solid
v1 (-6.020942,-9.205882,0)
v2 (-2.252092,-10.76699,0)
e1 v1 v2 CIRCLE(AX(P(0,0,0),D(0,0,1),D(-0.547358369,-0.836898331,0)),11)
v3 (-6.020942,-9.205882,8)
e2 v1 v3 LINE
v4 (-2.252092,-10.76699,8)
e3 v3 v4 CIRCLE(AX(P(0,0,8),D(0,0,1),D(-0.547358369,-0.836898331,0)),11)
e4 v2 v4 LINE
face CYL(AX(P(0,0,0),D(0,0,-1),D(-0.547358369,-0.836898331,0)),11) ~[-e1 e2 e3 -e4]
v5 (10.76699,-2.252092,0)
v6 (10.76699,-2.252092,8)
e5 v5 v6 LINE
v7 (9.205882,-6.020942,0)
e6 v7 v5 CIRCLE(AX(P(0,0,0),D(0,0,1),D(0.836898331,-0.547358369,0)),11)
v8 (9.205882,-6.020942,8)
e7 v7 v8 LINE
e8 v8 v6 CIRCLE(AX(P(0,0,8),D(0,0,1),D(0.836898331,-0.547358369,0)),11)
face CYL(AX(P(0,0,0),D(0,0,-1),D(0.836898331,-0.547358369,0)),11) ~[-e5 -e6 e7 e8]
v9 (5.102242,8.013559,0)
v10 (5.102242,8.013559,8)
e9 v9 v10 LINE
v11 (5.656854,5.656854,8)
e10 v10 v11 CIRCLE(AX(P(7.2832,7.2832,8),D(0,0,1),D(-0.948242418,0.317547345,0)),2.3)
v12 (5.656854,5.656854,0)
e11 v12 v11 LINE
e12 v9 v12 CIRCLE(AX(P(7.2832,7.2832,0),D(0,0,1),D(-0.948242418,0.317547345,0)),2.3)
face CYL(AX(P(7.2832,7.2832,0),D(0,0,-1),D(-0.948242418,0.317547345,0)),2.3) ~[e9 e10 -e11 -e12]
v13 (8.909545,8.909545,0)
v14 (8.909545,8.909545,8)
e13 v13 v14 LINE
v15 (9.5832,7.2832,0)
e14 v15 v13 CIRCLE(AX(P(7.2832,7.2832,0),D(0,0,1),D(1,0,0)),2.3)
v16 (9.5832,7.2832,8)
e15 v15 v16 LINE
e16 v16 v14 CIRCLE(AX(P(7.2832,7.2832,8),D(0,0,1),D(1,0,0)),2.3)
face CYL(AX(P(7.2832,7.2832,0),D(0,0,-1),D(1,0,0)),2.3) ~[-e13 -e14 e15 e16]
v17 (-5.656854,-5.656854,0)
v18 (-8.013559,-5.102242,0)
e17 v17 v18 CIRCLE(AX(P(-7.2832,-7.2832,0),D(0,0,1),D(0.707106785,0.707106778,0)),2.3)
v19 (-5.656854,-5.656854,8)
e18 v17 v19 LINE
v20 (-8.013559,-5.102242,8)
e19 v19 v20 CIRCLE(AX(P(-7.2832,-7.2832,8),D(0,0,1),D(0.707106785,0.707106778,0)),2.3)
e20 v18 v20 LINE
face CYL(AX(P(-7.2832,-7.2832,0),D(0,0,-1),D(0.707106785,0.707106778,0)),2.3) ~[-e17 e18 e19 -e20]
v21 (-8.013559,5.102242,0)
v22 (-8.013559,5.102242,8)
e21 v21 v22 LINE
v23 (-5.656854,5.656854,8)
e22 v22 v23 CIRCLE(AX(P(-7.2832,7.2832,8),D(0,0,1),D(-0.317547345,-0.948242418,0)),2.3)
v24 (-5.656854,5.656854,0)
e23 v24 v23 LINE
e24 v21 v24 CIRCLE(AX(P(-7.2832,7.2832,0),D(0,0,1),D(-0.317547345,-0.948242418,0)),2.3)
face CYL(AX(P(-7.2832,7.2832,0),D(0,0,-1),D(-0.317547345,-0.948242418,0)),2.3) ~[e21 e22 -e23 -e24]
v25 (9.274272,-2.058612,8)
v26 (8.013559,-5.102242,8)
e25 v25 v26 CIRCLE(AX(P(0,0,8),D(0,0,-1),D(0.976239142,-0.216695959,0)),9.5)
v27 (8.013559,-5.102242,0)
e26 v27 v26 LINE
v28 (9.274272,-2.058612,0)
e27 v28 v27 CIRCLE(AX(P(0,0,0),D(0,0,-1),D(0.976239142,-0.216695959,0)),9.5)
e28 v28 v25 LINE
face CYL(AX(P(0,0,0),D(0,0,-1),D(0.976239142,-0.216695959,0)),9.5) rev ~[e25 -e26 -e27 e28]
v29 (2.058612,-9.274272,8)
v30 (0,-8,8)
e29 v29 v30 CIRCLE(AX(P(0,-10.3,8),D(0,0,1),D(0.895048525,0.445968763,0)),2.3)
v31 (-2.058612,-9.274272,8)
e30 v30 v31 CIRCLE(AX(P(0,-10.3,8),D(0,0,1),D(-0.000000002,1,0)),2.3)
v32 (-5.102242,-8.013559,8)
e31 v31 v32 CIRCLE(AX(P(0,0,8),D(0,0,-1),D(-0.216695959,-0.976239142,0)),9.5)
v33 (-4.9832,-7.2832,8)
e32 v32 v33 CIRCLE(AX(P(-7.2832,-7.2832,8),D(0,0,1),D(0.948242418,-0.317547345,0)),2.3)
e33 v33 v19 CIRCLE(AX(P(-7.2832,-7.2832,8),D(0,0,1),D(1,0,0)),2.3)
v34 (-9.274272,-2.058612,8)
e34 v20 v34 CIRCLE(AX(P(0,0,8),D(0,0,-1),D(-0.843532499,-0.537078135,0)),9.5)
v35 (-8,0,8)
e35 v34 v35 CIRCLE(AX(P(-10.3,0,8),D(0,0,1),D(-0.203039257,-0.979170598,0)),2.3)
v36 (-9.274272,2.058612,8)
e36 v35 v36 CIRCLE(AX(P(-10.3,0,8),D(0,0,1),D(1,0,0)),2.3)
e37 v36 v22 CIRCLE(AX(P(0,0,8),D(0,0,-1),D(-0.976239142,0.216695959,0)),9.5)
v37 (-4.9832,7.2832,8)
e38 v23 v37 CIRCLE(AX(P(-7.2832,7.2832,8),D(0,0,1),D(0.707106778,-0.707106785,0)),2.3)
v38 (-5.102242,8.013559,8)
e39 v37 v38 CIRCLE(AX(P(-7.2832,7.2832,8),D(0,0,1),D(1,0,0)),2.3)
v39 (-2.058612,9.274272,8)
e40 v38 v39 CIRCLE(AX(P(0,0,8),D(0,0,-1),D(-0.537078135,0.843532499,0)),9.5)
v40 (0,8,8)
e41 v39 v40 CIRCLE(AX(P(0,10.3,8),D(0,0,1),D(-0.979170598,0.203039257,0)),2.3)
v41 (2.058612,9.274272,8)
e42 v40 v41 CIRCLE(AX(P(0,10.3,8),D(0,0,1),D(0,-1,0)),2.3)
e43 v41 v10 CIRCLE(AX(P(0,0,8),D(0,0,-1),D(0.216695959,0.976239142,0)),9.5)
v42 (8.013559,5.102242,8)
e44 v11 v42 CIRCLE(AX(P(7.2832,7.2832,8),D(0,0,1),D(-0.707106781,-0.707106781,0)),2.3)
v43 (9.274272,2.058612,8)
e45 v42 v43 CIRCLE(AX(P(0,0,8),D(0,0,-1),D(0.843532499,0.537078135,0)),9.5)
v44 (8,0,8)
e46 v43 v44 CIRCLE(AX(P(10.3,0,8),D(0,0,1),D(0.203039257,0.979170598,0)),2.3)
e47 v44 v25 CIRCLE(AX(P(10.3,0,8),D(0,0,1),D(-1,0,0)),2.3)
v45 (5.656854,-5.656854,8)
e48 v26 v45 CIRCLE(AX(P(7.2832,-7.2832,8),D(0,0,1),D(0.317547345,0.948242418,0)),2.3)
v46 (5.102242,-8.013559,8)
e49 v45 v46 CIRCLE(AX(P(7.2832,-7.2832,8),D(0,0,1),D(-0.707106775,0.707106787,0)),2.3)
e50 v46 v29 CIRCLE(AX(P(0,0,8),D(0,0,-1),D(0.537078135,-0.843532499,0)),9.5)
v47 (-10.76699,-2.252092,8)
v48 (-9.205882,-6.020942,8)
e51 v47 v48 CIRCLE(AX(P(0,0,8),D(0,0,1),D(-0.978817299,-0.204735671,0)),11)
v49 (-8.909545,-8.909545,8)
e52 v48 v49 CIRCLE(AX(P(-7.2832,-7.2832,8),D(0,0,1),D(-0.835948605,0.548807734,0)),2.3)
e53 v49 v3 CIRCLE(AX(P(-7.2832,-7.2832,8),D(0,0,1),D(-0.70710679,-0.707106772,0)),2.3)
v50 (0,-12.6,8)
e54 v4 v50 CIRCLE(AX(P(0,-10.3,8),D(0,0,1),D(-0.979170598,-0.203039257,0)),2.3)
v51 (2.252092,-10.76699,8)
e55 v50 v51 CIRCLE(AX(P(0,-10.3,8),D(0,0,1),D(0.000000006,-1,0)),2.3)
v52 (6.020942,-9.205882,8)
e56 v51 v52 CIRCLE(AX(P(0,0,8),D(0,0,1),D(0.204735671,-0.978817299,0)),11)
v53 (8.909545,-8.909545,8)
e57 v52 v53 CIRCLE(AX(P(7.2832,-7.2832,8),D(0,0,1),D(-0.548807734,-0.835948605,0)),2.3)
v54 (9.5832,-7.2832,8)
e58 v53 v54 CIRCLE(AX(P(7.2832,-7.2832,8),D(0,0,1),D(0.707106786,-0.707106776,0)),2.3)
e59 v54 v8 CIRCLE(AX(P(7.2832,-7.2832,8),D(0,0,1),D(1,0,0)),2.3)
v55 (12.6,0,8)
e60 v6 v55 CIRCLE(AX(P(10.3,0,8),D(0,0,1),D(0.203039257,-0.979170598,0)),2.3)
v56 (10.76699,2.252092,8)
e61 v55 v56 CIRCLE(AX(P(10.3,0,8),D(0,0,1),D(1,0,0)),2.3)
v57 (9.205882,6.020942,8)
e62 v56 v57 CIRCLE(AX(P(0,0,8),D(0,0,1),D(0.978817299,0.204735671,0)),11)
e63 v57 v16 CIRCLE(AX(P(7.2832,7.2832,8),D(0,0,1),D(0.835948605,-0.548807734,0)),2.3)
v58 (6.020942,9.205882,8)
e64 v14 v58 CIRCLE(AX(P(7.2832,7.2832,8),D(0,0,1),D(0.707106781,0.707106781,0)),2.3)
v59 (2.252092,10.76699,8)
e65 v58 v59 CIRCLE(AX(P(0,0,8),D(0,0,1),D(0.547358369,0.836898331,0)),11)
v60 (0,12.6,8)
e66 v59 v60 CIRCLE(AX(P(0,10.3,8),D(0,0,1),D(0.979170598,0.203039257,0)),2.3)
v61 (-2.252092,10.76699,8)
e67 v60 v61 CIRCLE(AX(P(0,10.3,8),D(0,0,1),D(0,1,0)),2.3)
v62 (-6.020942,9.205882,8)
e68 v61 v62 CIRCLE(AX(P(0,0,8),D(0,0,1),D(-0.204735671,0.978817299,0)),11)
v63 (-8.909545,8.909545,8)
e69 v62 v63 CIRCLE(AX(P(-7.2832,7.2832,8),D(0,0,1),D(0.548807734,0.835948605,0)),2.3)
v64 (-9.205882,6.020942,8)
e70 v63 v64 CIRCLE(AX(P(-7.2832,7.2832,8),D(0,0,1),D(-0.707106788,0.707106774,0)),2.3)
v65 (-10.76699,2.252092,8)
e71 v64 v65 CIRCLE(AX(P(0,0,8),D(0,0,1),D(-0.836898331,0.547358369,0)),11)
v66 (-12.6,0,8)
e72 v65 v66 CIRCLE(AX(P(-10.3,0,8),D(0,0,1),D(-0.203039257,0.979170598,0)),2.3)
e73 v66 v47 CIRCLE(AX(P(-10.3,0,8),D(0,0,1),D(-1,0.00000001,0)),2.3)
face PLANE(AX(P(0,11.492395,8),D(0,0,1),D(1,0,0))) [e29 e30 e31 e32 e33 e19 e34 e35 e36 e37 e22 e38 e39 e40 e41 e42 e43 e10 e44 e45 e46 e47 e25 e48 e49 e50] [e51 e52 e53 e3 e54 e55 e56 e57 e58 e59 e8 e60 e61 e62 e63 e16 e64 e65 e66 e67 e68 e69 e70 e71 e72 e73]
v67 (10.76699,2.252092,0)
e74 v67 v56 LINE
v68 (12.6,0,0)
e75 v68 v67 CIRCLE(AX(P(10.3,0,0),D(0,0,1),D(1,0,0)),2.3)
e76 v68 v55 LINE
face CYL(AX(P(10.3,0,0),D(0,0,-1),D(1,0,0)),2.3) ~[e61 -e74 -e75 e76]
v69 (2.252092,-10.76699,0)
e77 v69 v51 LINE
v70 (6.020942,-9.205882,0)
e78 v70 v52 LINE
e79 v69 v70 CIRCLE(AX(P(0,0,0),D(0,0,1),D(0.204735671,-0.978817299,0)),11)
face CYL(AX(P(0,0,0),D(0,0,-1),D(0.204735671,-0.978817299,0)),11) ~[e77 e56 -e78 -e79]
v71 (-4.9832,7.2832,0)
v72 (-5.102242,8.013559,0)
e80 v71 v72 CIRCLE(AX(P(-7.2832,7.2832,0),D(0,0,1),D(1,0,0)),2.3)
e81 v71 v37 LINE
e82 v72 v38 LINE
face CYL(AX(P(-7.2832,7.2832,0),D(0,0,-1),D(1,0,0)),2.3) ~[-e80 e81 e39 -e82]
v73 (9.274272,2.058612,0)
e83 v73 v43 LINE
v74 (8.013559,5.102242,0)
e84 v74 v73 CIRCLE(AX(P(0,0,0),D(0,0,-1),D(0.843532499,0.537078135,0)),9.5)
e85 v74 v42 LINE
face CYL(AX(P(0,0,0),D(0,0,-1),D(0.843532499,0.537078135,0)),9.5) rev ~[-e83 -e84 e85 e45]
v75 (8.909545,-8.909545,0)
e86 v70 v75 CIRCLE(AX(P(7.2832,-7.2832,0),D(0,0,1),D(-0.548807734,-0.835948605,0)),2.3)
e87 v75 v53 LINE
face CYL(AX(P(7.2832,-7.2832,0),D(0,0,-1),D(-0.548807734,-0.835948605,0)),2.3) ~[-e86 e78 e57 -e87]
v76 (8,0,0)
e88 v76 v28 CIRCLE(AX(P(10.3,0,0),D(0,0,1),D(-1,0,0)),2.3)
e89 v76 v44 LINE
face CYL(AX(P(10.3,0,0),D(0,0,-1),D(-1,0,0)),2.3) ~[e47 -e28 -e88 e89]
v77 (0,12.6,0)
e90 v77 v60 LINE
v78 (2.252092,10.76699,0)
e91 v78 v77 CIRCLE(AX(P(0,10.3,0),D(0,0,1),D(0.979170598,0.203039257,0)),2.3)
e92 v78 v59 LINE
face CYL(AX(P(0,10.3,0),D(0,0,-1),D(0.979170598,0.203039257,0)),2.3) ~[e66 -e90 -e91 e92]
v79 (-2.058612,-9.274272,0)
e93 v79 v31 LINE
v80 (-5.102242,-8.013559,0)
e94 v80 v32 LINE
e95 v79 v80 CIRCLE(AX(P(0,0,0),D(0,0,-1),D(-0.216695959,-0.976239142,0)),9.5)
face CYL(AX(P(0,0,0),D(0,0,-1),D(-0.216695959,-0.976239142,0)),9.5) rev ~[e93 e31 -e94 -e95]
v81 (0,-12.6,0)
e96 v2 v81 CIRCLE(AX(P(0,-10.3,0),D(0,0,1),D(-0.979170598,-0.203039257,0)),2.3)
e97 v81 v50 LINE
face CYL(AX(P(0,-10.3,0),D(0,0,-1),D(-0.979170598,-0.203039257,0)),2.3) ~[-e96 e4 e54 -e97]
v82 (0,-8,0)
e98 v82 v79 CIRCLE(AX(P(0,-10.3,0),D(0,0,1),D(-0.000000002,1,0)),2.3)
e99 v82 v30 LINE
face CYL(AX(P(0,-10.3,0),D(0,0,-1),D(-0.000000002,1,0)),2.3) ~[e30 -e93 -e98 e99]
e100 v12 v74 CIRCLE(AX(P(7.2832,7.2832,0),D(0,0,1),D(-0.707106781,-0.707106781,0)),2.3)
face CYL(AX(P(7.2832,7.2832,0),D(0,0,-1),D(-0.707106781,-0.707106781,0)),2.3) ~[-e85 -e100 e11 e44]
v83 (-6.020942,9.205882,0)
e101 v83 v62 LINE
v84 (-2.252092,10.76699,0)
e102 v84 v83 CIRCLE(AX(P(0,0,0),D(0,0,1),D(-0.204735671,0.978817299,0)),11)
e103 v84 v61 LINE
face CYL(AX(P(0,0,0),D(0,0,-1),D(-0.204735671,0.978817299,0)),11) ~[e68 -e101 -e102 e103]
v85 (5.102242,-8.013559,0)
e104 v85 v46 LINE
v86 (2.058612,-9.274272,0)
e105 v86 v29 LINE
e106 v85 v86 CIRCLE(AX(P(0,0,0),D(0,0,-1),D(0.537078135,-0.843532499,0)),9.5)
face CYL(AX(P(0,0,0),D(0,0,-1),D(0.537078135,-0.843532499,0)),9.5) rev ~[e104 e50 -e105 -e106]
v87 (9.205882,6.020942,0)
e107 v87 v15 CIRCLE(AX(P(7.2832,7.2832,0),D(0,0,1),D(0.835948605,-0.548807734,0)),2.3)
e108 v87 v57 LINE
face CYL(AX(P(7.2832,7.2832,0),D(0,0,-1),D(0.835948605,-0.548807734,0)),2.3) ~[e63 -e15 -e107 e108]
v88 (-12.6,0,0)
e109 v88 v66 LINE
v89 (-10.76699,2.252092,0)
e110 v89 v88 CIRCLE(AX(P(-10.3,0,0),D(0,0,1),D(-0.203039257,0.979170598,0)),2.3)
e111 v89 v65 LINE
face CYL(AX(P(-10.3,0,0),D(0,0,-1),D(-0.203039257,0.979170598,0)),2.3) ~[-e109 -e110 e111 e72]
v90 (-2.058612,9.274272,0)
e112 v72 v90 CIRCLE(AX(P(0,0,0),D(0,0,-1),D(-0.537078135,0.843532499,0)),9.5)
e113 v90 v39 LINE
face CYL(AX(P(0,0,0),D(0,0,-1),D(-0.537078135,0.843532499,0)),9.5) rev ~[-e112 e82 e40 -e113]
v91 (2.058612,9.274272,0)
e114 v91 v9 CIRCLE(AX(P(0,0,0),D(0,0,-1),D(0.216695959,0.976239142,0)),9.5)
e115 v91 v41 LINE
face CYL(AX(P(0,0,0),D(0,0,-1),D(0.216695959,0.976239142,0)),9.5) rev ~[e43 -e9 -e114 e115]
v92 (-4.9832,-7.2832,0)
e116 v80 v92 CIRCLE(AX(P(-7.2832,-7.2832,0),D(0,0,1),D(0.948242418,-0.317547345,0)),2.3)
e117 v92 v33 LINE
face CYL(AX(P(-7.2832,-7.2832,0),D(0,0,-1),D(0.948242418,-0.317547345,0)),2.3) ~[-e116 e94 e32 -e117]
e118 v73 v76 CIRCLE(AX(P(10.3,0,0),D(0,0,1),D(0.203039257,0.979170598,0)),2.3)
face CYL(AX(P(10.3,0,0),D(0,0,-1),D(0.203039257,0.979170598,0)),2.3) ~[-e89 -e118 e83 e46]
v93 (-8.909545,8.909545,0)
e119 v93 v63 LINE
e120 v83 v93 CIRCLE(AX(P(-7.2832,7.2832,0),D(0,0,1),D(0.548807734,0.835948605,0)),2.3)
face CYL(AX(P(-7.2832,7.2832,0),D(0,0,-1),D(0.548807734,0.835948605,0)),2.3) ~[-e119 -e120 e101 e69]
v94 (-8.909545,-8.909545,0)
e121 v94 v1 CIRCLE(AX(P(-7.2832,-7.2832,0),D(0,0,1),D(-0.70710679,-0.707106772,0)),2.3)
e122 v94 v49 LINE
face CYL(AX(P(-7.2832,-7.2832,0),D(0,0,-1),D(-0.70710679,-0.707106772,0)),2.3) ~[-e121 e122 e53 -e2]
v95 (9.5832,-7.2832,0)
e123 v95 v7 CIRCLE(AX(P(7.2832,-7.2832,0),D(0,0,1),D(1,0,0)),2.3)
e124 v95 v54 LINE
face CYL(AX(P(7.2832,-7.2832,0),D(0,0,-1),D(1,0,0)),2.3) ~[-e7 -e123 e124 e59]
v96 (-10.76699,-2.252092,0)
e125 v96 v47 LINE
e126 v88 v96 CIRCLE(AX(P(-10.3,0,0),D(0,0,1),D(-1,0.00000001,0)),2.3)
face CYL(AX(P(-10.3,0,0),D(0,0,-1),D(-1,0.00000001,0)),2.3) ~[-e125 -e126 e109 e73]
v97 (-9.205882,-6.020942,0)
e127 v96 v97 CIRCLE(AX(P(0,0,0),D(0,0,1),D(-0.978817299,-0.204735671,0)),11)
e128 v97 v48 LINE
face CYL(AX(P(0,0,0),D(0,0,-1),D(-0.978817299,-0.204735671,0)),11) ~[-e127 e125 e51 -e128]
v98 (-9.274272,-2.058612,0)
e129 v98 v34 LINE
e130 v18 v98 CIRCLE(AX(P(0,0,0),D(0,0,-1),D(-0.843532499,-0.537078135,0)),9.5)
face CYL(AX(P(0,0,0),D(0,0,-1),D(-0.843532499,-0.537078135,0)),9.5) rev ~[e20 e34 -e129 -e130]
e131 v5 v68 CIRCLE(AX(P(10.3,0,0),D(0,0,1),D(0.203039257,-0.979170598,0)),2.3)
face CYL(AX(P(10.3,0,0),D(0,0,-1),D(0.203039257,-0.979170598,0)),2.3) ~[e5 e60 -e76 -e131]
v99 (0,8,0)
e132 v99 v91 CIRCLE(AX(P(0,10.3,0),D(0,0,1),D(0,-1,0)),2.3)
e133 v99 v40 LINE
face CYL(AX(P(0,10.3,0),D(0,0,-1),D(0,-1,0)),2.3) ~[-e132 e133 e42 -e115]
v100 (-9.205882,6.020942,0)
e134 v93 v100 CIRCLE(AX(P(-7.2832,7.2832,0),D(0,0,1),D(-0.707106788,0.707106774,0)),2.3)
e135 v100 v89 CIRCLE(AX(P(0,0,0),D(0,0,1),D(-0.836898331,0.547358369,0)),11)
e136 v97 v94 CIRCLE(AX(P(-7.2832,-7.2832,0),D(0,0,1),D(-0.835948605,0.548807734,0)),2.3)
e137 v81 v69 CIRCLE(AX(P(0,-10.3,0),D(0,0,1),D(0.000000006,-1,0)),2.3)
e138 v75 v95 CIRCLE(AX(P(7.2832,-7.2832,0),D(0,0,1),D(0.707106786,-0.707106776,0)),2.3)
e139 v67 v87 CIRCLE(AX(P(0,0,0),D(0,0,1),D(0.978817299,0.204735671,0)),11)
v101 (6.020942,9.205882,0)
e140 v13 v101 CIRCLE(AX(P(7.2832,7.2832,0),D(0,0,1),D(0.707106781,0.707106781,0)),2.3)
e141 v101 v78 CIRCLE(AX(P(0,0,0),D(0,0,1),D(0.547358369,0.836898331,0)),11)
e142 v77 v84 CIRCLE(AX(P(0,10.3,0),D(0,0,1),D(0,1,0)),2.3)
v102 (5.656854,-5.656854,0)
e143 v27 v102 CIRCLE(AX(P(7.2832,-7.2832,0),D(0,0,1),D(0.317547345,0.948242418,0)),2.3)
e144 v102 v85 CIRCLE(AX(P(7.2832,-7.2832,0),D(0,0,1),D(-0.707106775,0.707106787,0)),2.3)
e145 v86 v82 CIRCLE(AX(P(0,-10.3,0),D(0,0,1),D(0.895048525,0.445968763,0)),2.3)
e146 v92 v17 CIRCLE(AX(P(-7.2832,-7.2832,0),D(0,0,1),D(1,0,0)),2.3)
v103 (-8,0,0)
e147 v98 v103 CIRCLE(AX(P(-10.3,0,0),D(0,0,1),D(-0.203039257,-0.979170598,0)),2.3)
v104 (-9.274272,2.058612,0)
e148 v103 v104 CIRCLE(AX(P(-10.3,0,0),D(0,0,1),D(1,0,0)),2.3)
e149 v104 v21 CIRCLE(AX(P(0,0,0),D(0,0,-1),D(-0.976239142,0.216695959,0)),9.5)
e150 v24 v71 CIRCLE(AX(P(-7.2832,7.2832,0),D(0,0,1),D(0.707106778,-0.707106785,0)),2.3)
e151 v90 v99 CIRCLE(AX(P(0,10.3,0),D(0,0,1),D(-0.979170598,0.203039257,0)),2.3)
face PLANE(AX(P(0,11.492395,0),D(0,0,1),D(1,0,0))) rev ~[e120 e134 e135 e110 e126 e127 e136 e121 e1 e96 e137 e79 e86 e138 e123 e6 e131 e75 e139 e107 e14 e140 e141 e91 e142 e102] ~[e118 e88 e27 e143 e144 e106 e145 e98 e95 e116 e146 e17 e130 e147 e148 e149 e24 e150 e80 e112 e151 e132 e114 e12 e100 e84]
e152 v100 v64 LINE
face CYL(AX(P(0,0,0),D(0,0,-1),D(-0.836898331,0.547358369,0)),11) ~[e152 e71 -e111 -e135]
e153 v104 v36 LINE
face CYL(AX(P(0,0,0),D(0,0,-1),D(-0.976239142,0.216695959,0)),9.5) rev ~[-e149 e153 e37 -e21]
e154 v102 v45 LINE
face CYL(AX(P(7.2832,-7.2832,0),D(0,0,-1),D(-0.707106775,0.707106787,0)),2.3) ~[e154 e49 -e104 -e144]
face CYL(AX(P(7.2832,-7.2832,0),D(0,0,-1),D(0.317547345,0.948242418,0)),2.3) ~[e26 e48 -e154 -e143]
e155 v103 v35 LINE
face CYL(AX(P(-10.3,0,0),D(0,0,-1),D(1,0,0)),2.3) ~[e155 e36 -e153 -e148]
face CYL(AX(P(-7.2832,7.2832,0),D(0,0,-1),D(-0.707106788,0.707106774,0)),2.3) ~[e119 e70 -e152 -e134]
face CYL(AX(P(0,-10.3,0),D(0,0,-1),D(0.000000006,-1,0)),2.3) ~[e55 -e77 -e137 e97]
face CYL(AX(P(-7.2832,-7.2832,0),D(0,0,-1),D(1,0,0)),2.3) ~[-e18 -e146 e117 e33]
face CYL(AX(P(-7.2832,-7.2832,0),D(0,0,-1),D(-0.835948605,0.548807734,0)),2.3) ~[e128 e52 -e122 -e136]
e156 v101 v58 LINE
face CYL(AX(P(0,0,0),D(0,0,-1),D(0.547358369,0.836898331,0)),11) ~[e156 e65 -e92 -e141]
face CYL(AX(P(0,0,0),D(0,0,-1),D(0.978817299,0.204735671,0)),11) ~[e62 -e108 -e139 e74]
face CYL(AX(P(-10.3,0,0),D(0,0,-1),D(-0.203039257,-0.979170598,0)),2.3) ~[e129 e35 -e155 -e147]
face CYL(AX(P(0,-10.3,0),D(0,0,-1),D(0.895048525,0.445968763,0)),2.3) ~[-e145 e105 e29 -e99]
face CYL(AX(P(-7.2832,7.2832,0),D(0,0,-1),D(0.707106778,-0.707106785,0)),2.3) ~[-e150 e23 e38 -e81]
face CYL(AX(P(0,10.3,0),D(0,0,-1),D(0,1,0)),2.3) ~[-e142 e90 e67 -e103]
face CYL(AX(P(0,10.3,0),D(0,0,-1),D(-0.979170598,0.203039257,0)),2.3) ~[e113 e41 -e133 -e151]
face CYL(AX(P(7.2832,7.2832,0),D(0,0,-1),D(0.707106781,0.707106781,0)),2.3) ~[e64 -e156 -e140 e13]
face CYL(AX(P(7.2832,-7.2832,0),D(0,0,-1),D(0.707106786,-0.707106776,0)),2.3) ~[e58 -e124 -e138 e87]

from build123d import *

# Parameters (mm, degrees)
F1_DEPTH = 8


with BuildPart() as f1:
    # F0 (on Top) → F1 (new body)
    with BuildSketch(Plane.XY):
        with BuildLine():
            ThreePointArc((2.2520923755, 10.7669902913), (1.4518819391, 12.0838270193), (0, 12.6))
            ThreePointArc((0, 12.6), (-1.4518819391, 12.0838270193), (-2.2520923755, 10.7669902913))
            ThreePointArc((-2.2520923755, 10.7669902913), (0, 11), (2.2520923755, 10.7669902913))
        make_face()
        with BuildLine():
            ThreePointArc((2.3, 10.3), (2.2879917465, 10.5347206172), (2.2520923755, 10.7669902913))
            ThreePointArc((2.2520923755, 10.7669902913), (0, 11), (-2.2520923755, 10.7669902913))
            ThreePointArc((-2.2520923755, 10.7669902913), (-2.2809196167, 10.0043554464), (-2.0586116077, 9.2742718447))
            ThreePointArc((-2.0586116077, 9.2742718447), (0, 9.5), (2.0586116077, 9.2742718447))
            ThreePointArc((2.0586116077, 9.2742718447), (2.2388397327, 9.7731255831), (2.3, 10.3))
        make_face()
        with BuildLine():
            ThreePointArc((2.0586116077, 9.2742718447), (0, 9.5), (-2.0586116077, 9.2742718447))
            ThreePointArc((-2.0586116077, 9.2742718447), (-1.210542284, 8.34434477), (0, 8))
            ThreePointArc((0, 8), (1.210542284, 8.34434477), (2.0586116077, 9.2742718447))
        make_face()
        with BuildLine():
            ThreePointArc((-2.0586116077, 9.2742718447), (-2.2809196167, 10.0043554464), (-2.2520923755, 10.7669902913))
            ThreePointArc((-2.2520923755, 10.7669902913), (-4.209517756, 10.1626748576), (-6.0209420573, 9.2058816385))
            ThreePointArc((-6.0209420573, 9.2058816385), (-5.4612938492, 8.6870013059), (-5.1022422843, 8.0135587396))
            ThreePointArc((-5.1022422843, 8.0135587396), (-3.6354926075, 8.7768555589), (-2.0586116077, 9.2742718447))
        make_face()
        with BuildLine():
            ThreePointArc((-6.0209420573, 9.2058816385), (-7.5179204749, 9.5711915915), (-8.9095454592, 8.9095454267))
            ThreePointArc((-8.9095454592, 8.9095454267), (-9.5711915938, 7.5179204521), (-9.2058816385, 6.0209420573))
            ThreePointArc((-9.2058816385, 6.0209420573), (-7.7781745931, 7.7781745931), (-6.0209420573, 9.2058816385))
        make_face()
        with BuildLine():
            ThreePointArc((-5.1022422843, 8.0135587396), (-5.4612938492, 8.6870013059), (-6.0209420573, 9.2058816385))
            ThreePointArc((-6.0209420573, 9.2058816385), (-7.7781745931, 7.7781745931), (-9.2058816385, 6.0209420573))
            ThreePointArc((-9.2058816385, 6.0209420573), (-8.6870013059, 5.4612938492), (-8.0135587396, 5.1022422843))
            ThreePointArc((-8.0135587396, 5.1022422843), (-6.7175144213, 6.7175144213), (-5.1022422843, 8.0135587396))
        make_face()
        with BuildLine():
            ThreePointArc((-4.9831998462, 7.2831998462), (-5.0131555303, 7.6531982297), (-5.1022422843, 8.0135587396))
            ThreePointArc((-5.1022422843, 8.0135587396), (-6.7175144213, 6.7175144213), (-8.0135587396, 5.1022422843))
            ThreePointArc((-8.0135587396, 5.1022422843), (-6.7563254348, 5.0443601122), (-5.6568542575, 5.6568542415))
            ThreePointArc((-5.6568542575, 5.6568542415), (-5.1582769236, 6.4030279466), (-4.9831998462, 7.2831998462))
        make_face()
        with BuildLine():
            ThreePointArc((-8.0135587396, 5.1022422843), (-8.6870013059, 5.4612938492), (-9.2058816385, 6.0209420573))
            ThreePointArc((-9.2058816385, 6.0209420573), (-10.1626748576, 4.209517756), (-10.7669902913, 2.2520923755))
            ThreePointArc((-10.7669902913, 2.2520923755), (-10.0043554464, 2.2809196167), (-9.2742718447, 2.0586116077))
            ThreePointArc((-9.2742718447, 2.0586116077), (-8.7768555589, 3.6354926075), (-8.0135587396, 5.1022422843))
        make_face()
        with BuildLine():
            ThreePointArc((-10.7669902913, 2.2520923755), (-12.0838270121, 1.451881948), (-12.6, 2.3e-08))
            ThreePointArc((-12.6, 2.3e-08), (-12.0838270266, -1.4518819302), (-10.7669902913, -2.2520923755))
            ThreePointArc((-10.7669902913, -2.2520923755), (-11, 0), (-10.7669902913, 2.2520923755))
        make_face()
        with BuildLine():
            ThreePointArc((-9.2742718447, 2.0586116077), (-10.0043554464, 2.2809196167), (-10.7669902913, 2.2520923755))
            ThreePointArc((-10.7669902913, 2.2520923755), (-11, 0), (-10.7669902913, -2.2520923755))
            ThreePointArc((-10.7669902913, -2.2520923755), (-10.0043554464, -2.2809196167), (-9.2742718447, -2.0586116077))
            ThreePointArc((-9.2742718447, -2.0586116077), (-9.5, 0), (-9.2742718447, 2.0586116077))
        make_face()
        with BuildLine():
            ThreePointArc((-8, 0), (-8.34434477, 1.210542284), (-9.2742718447, 2.0586116077))
            ThreePointArc((-9.2742718447, 2.0586116077), (-9.5, 0), (-9.2742718447, -2.0586116077))
            ThreePointArc((-9.2742718447, -2.0586116077), (-8.34434477, -1.210542284), (-8, 0))
        make_face()
        with BuildLine():
            ThreePointArc((-10.7669902913, -2.2520923755), (-10.1626748576, -4.209517756), (-9.2058816385, -6.0209420573))
            ThreePointArc((-9.2058816385, -6.0209420573), (-8.6870013059, -5.4612938492), (-8.0135587396, -5.1022422843))
            ThreePointArc((-8.0135587396, -5.1022422843), (-8.7768555589, -3.6354926075), (-9.2742718447, -2.0586116077))
            ThreePointArc((-9.2742718447, -2.0586116077), (-10.0043554464, -2.2809196167), (-10.7669902913, -2.2520923755))
        make_face()
        with BuildLine():
            ThreePointArc((-9.2058816385, -6.0209420573), (-9.5711915942, -7.5179204484), (-8.9095454644, -8.9095454215))
            ThreePointArc((-8.9095454644, -8.9095454215), (-7.5179204785, -9.5711915911), (-6.0209420573, -9.2058816385))
            ThreePointArc((-6.0209420573, -9.2058816385), (-7.7781745931, -7.7781745931), (-9.2058816385, -6.0209420573))
        make_face()
        with BuildLine():
            ThreePointArc((-8.0135587396, -5.1022422843), (-8.6870013059, -5.4612938492), (-9.2058816385, -6.0209420573))
            ThreePointArc((-9.2058816385, -6.0209420573), (-7.7781745931, -7.7781745931), (-6.0209420573, -9.2058816385))
            ThreePointArc((-6.0209420573, -9.2058816385), (-5.4612938492, -8.6870013059), (-5.1022422843, -8.0135587396))
            ThreePointArc((-5.1022422843, -8.0135587396), (-6.7175144213, -6.7175144213), (-8.0135587396, -5.1022422843))
        make_face()
        with BuildLine():
            ThreePointArc((-5.6568542412, -5.6568542578), (-6.7563254237, -5.0443601148), (-8.0135587396, -5.1022422843))
            ThreePointArc((-8.0135587396, -5.1022422843), (-6.7175144213, -6.7175144213), (-5.1022422843, -8.0135587396))
            ThreePointArc((-5.1022422843, -8.0135587396), (-5.0131555303, -7.6531982297), (-4.9831998462, -7.2831998462))
            ThreePointArc((-4.9831998462, -7.2831998462), (-5.1582769192, -6.4030279572), (-5.6568542412, -5.6568542578))
        make_face()
        with BuildLine():
            ThreePointArc((-6.0209420573, -9.2058816385), (-4.209517756, -10.1626748576), (-2.2520923755, -10.7669902913))
            ThreePointArc((-2.2520923755, -10.7669902913), (-2.2809196167, -10.0043554464), (-2.0586116077, -9.2742718447))
            ThreePointArc((-2.0586116077, -9.2742718447), (-3.6354926075, -8.7768555589), (-5.1022422843, -8.0135587396))
            ThreePointArc((-5.1022422843, -8.0135587396), (-5.4612938492, -8.6870013059), (-6.0209420573, -9.2058816385))
        make_face()
        with BuildLine():
            ThreePointArc((-4.9e-09, -8), (-1.2105422861, -8.3443447713), (-2.0586116077, -9.2742718447))
            ThreePointArc((-2.0586116077, -9.2742718447), (0, -9.5), (2.0586116077, -9.2742718447))
            ThreePointArc((2.0586116077, -9.2742718447), (1.2105422819, -8.3443447687), (-4.9e-09, -8))
        make_face()
        with BuildLine():
            ThreePointArc((-2.0586116077, -9.2742718447), (-2.2809196167, -10.0043554464), (-2.2520923755, -10.7669902913))
            ThreePointArc((-2.2520923755, -10.7669902913), (0, -11), (2.2520923755, -10.7669902913))
            ThreePointArc((2.2520923755, -10.7669902913), (2.2879917465, -10.5347206172), (2.3, -10.3))
            ThreePointArc((2.3, -10.3), (2.2388397327, -9.7731255831), (2.0586116077, -9.2742718447))
            ThreePointArc((2.0586116077, -9.2742718447), (0, -9.5), (-2.0586116077, -9.2742718447))
        make_face()
        with BuildLine():
            ThreePointArc((-2.2520923755, -10.7669902913), (-1.4518819339, -12.0838270236), (1.34e-08, -12.6))
            ThreePointArc((1.34e-08, -12.6), (1.4518819443, -12.0838270151), (2.2520923755, -10.7669902913))
            ThreePointArc((2.2520923755, -10.7669902913), (0, -11), (-2.2520923755, -10.7669902913))
        make_face()
        with BuildLine():
            ThreePointArc((2.2520923755, -10.7669902913), (4.209517756, -10.1626748576), (6.0209420573, -9.2058816385))
            ThreePointArc((6.0209420573, -9.2058816385), (5.4612938492, -8.6870013059), (5.1022422843, -8.0135587396))
            ThreePointArc((5.1022422843, -8.0135587396), (3.6354926075, -8.7768555589), (2.0586116077, -9.2742718447))
            ThreePointArc((2.0586116077, -9.2742718447), (2.2388397327, -9.7731255831), (2.3, -10.3))
            ThreePointArc((2.3, -10.3), (2.2879917465, -10.5347206172), (2.2520923755, -10.7669902913))
        make_face()
        with BuildLine():
            ThreePointArc((5.6568542641, -5.6568542349), (5.0443601159, -6.7563254193), (5.1022422843, -8.0135587396))
            ThreePointArc((5.1022422843, -8.0135587396), (6.7175144213, -6.7175144213), (8.0135587396, -5.1022422843))
            ThreePointArc((8.0135587396, -5.1022422843), (6.7563254394, -5.0443601111), (5.6568542641, -5.6568542349))
        make_face()
        with BuildLine():
            ThreePointArc((5.1022422843, -8.0135587396), (5.4612938492, -8.6870013059), (6.0209420573, -9.2058816385))
            ThreePointArc((6.0209420573, -9.2058816385), (7.7781745931, -7.7781745931), (9.2058816385, -6.0209420573))
            ThreePointArc((9.2058816385, -6.0209420573), (8.6870013059, -5.4612938492), (8.0135587396, -5.1022422843))
            ThreePointArc((8.0135587396, -5.1022422843), (6.7175144213, -6.7175144213), (5.1022422843, -8.0135587396))
        make_face()
        with BuildLine():
            ThreePointArc((6.0209420573, -9.2058816385), (7.5179204711, -9.5711915919), (8.9095454539, -8.909545432))
            ThreePointArc((8.9095454539, -8.909545432), (9.408122774, -8.1633717335), (9.5831998462, -7.2831998462))
            ThreePointArc((9.5831998462, -7.2831998462), (9.4868522828, -6.6244768856), (9.2058816385, -6.0209420573))
            ThreePointArc((9.2058816385, -6.0209420573), (7.7781745931, -7.7781745931), (6.0209420573, -9.2058816385))
        make_face()
        with BuildLine():
            ThreePointArc((9.2058816385, -6.0209420573), (10.1626748576, -4.209517756), (10.7669902913, -2.2520923755))
            ThreePointArc((10.7669902913, -2.2520923755), (10.0043554464, -2.2809196167), (9.2742718447, -2.0586116077))
            ThreePointArc((9.2742718447, -2.0586116077), (8.7768555589, -3.6354926075), (8.0135587396, -5.1022422843))
            ThreePointArc((8.0135587396, -5.1022422843), (8.6870013059, -5.4612938492), (9.2058816385, -6.0209420573))
        make_face()
        with BuildLine():
            ThreePointArc((10.7669902913, -2.2520923755), (12.0838270193, -1.4518819391), (12.6, 0))
            ThreePointArc((12.6, 0), (12.0838270193, 1.4518819391), (10.7669902913, 2.2520923755))
            ThreePointArc((10.7669902913, 2.2520923755), (10.9415925076, 1.1320571532), (11, 0))
            ThreePointArc((11, 0), (10.9415925076, -1.1320571532), (10.7669902913, -2.2520923755))
        make_face()
        with BuildLine():
            ThreePointArc((11, 0), (10.9415925076, 1.1320571532), (10.7669902913, 2.2520923755))
            ThreePointArc((10.7669902913, 2.2520923755), (10.0043554464, 2.2809196167), (9.2742718447, 2.0586116077))
            ThreePointArc((9.2742718447, 2.0586116077), (9.4433993489, 1.0354751266), (9.5, 0))
            ThreePointArc((9.5, 0), (9.4433993489, -1.0354751266), (9.2742718447, -2.0586116077))
            ThreePointArc((9.2742718447, -2.0586116077), (10.0043554464, -2.2809196167), (10.7669902913, -2.2520923755))
            ThreePointArc((10.7669902913, -2.2520923755), (10.9415925076, -1.1320571532), (11, 0))
        make_face()
        with BuildLine():
            ThreePointArc((9.5, 0), (9.4433993489, 1.0354751266), (9.2742718447, 2.0586116077))
            ThreePointArc((9.2742718447, 2.0586116077), (8.34434477, 1.210542284), (8, 0))
            ThreePointArc((8, 0), (8.34434477, -1.210542284), (9.2742718447, -2.0586116077))
            ThreePointArc((9.2742718447, -2.0586116077), (9.4433993489, -1.0354751266), (9.5, 0))
        make_face()
        with BuildLine():
            ThreePointArc((9.2742718447, 2.0586116077), (10.0043554464, 2.2809196167), (10.7669902913, 2.2520923755))
            ThreePointArc((10.7669902913, 2.2520923755), (10.1626748576, 4.209517756), (9.2058816385, 6.0209420573))
            ThreePointArc((9.2058816385, 6.0209420573), (8.6870013059, 5.4612938492), (8.0135587396, 5.1022422843))
            ThreePointArc((8.0135587396, 5.1022422843), (8.7768555589, 3.6354926075), (9.2742718447, 2.0586116077))
        make_face()
        with BuildLine():
            ThreePointArc((9.5831998462, 7.2831998462), (9.408122771, 8.1633717407), (8.909545443, 8.909545443))
            ThreePointArc((8.909545443, 8.909545443), (7.5179204635, 9.5711915927), (6.0209420573, 9.2058816385))
            ThreePointArc((6.0209420573, 9.2058816385), (7.7781745931, 7.7781745931), (9.2058816385, 6.0209420573))
            ThreePointArc((9.2058816385, 6.0209420573), (9.4868522828, 6.6244768856), (9.5831998462, 7.2831998462))
        make_face()
        with BuildLine():
            ThreePointArc((9.2058816385, 6.0209420573), (7.7781745931, 7.7781745931), (6.0209420573, 9.2058816385))
            ThreePointArc((6.0209420573, 9.2058816385), (5.4612938492, 8.6870013059), (5.1022422843, 8.0135587396))
            ThreePointArc((5.1022422843, 8.0135587396), (6.7175144213, 6.7175144213), (8.0135587396, 5.1022422843))
            ThreePointArc((8.0135587396, 5.1022422843), (8.6870013059, 5.4612938492), (9.2058816385, 6.0209420573))
        make_face()
        with BuildLine():
            ThreePointArc((8.0135587396, 5.1022422843), (6.7175144213, 6.7175144213), (5.1022422843, 8.0135587396))
            ThreePointArc((5.1022422843, 8.0135587396), (5.0443601135, 6.7563254294), (5.6568542495, 5.6568542495))
            ThreePointArc((5.6568542495, 5.6568542495), (6.7563254294, 5.0443601135), (8.0135587396, 5.1022422843))
        make_face()
        with BuildLine():
            ThreePointArc((5.1022422843, 8.0135587396), (5.4612938492, 8.6870013059), (6.0209420573, 9.2058816385))
            ThreePointArc((6.0209420573, 9.2058816385), (4.209517756, 10.1626748576), (2.2520923755, 10.7669902913))
            ThreePointArc((2.2520923755, 10.7669902913), (2.2879917465, 10.5347206172), (2.3, 10.3))
            ThreePointArc((2.3, 10.3), (2.2388397327, 9.7731255831), (2.0586116077, 9.2742718447))
            ThreePointArc((2.0586116077, 9.2742718447), (3.6354926075, 8.7768555589), (5.1022422843, 8.0135587396))
        make_face()
    extrude(amount=F1_DEPTH)


solid = f1.part
